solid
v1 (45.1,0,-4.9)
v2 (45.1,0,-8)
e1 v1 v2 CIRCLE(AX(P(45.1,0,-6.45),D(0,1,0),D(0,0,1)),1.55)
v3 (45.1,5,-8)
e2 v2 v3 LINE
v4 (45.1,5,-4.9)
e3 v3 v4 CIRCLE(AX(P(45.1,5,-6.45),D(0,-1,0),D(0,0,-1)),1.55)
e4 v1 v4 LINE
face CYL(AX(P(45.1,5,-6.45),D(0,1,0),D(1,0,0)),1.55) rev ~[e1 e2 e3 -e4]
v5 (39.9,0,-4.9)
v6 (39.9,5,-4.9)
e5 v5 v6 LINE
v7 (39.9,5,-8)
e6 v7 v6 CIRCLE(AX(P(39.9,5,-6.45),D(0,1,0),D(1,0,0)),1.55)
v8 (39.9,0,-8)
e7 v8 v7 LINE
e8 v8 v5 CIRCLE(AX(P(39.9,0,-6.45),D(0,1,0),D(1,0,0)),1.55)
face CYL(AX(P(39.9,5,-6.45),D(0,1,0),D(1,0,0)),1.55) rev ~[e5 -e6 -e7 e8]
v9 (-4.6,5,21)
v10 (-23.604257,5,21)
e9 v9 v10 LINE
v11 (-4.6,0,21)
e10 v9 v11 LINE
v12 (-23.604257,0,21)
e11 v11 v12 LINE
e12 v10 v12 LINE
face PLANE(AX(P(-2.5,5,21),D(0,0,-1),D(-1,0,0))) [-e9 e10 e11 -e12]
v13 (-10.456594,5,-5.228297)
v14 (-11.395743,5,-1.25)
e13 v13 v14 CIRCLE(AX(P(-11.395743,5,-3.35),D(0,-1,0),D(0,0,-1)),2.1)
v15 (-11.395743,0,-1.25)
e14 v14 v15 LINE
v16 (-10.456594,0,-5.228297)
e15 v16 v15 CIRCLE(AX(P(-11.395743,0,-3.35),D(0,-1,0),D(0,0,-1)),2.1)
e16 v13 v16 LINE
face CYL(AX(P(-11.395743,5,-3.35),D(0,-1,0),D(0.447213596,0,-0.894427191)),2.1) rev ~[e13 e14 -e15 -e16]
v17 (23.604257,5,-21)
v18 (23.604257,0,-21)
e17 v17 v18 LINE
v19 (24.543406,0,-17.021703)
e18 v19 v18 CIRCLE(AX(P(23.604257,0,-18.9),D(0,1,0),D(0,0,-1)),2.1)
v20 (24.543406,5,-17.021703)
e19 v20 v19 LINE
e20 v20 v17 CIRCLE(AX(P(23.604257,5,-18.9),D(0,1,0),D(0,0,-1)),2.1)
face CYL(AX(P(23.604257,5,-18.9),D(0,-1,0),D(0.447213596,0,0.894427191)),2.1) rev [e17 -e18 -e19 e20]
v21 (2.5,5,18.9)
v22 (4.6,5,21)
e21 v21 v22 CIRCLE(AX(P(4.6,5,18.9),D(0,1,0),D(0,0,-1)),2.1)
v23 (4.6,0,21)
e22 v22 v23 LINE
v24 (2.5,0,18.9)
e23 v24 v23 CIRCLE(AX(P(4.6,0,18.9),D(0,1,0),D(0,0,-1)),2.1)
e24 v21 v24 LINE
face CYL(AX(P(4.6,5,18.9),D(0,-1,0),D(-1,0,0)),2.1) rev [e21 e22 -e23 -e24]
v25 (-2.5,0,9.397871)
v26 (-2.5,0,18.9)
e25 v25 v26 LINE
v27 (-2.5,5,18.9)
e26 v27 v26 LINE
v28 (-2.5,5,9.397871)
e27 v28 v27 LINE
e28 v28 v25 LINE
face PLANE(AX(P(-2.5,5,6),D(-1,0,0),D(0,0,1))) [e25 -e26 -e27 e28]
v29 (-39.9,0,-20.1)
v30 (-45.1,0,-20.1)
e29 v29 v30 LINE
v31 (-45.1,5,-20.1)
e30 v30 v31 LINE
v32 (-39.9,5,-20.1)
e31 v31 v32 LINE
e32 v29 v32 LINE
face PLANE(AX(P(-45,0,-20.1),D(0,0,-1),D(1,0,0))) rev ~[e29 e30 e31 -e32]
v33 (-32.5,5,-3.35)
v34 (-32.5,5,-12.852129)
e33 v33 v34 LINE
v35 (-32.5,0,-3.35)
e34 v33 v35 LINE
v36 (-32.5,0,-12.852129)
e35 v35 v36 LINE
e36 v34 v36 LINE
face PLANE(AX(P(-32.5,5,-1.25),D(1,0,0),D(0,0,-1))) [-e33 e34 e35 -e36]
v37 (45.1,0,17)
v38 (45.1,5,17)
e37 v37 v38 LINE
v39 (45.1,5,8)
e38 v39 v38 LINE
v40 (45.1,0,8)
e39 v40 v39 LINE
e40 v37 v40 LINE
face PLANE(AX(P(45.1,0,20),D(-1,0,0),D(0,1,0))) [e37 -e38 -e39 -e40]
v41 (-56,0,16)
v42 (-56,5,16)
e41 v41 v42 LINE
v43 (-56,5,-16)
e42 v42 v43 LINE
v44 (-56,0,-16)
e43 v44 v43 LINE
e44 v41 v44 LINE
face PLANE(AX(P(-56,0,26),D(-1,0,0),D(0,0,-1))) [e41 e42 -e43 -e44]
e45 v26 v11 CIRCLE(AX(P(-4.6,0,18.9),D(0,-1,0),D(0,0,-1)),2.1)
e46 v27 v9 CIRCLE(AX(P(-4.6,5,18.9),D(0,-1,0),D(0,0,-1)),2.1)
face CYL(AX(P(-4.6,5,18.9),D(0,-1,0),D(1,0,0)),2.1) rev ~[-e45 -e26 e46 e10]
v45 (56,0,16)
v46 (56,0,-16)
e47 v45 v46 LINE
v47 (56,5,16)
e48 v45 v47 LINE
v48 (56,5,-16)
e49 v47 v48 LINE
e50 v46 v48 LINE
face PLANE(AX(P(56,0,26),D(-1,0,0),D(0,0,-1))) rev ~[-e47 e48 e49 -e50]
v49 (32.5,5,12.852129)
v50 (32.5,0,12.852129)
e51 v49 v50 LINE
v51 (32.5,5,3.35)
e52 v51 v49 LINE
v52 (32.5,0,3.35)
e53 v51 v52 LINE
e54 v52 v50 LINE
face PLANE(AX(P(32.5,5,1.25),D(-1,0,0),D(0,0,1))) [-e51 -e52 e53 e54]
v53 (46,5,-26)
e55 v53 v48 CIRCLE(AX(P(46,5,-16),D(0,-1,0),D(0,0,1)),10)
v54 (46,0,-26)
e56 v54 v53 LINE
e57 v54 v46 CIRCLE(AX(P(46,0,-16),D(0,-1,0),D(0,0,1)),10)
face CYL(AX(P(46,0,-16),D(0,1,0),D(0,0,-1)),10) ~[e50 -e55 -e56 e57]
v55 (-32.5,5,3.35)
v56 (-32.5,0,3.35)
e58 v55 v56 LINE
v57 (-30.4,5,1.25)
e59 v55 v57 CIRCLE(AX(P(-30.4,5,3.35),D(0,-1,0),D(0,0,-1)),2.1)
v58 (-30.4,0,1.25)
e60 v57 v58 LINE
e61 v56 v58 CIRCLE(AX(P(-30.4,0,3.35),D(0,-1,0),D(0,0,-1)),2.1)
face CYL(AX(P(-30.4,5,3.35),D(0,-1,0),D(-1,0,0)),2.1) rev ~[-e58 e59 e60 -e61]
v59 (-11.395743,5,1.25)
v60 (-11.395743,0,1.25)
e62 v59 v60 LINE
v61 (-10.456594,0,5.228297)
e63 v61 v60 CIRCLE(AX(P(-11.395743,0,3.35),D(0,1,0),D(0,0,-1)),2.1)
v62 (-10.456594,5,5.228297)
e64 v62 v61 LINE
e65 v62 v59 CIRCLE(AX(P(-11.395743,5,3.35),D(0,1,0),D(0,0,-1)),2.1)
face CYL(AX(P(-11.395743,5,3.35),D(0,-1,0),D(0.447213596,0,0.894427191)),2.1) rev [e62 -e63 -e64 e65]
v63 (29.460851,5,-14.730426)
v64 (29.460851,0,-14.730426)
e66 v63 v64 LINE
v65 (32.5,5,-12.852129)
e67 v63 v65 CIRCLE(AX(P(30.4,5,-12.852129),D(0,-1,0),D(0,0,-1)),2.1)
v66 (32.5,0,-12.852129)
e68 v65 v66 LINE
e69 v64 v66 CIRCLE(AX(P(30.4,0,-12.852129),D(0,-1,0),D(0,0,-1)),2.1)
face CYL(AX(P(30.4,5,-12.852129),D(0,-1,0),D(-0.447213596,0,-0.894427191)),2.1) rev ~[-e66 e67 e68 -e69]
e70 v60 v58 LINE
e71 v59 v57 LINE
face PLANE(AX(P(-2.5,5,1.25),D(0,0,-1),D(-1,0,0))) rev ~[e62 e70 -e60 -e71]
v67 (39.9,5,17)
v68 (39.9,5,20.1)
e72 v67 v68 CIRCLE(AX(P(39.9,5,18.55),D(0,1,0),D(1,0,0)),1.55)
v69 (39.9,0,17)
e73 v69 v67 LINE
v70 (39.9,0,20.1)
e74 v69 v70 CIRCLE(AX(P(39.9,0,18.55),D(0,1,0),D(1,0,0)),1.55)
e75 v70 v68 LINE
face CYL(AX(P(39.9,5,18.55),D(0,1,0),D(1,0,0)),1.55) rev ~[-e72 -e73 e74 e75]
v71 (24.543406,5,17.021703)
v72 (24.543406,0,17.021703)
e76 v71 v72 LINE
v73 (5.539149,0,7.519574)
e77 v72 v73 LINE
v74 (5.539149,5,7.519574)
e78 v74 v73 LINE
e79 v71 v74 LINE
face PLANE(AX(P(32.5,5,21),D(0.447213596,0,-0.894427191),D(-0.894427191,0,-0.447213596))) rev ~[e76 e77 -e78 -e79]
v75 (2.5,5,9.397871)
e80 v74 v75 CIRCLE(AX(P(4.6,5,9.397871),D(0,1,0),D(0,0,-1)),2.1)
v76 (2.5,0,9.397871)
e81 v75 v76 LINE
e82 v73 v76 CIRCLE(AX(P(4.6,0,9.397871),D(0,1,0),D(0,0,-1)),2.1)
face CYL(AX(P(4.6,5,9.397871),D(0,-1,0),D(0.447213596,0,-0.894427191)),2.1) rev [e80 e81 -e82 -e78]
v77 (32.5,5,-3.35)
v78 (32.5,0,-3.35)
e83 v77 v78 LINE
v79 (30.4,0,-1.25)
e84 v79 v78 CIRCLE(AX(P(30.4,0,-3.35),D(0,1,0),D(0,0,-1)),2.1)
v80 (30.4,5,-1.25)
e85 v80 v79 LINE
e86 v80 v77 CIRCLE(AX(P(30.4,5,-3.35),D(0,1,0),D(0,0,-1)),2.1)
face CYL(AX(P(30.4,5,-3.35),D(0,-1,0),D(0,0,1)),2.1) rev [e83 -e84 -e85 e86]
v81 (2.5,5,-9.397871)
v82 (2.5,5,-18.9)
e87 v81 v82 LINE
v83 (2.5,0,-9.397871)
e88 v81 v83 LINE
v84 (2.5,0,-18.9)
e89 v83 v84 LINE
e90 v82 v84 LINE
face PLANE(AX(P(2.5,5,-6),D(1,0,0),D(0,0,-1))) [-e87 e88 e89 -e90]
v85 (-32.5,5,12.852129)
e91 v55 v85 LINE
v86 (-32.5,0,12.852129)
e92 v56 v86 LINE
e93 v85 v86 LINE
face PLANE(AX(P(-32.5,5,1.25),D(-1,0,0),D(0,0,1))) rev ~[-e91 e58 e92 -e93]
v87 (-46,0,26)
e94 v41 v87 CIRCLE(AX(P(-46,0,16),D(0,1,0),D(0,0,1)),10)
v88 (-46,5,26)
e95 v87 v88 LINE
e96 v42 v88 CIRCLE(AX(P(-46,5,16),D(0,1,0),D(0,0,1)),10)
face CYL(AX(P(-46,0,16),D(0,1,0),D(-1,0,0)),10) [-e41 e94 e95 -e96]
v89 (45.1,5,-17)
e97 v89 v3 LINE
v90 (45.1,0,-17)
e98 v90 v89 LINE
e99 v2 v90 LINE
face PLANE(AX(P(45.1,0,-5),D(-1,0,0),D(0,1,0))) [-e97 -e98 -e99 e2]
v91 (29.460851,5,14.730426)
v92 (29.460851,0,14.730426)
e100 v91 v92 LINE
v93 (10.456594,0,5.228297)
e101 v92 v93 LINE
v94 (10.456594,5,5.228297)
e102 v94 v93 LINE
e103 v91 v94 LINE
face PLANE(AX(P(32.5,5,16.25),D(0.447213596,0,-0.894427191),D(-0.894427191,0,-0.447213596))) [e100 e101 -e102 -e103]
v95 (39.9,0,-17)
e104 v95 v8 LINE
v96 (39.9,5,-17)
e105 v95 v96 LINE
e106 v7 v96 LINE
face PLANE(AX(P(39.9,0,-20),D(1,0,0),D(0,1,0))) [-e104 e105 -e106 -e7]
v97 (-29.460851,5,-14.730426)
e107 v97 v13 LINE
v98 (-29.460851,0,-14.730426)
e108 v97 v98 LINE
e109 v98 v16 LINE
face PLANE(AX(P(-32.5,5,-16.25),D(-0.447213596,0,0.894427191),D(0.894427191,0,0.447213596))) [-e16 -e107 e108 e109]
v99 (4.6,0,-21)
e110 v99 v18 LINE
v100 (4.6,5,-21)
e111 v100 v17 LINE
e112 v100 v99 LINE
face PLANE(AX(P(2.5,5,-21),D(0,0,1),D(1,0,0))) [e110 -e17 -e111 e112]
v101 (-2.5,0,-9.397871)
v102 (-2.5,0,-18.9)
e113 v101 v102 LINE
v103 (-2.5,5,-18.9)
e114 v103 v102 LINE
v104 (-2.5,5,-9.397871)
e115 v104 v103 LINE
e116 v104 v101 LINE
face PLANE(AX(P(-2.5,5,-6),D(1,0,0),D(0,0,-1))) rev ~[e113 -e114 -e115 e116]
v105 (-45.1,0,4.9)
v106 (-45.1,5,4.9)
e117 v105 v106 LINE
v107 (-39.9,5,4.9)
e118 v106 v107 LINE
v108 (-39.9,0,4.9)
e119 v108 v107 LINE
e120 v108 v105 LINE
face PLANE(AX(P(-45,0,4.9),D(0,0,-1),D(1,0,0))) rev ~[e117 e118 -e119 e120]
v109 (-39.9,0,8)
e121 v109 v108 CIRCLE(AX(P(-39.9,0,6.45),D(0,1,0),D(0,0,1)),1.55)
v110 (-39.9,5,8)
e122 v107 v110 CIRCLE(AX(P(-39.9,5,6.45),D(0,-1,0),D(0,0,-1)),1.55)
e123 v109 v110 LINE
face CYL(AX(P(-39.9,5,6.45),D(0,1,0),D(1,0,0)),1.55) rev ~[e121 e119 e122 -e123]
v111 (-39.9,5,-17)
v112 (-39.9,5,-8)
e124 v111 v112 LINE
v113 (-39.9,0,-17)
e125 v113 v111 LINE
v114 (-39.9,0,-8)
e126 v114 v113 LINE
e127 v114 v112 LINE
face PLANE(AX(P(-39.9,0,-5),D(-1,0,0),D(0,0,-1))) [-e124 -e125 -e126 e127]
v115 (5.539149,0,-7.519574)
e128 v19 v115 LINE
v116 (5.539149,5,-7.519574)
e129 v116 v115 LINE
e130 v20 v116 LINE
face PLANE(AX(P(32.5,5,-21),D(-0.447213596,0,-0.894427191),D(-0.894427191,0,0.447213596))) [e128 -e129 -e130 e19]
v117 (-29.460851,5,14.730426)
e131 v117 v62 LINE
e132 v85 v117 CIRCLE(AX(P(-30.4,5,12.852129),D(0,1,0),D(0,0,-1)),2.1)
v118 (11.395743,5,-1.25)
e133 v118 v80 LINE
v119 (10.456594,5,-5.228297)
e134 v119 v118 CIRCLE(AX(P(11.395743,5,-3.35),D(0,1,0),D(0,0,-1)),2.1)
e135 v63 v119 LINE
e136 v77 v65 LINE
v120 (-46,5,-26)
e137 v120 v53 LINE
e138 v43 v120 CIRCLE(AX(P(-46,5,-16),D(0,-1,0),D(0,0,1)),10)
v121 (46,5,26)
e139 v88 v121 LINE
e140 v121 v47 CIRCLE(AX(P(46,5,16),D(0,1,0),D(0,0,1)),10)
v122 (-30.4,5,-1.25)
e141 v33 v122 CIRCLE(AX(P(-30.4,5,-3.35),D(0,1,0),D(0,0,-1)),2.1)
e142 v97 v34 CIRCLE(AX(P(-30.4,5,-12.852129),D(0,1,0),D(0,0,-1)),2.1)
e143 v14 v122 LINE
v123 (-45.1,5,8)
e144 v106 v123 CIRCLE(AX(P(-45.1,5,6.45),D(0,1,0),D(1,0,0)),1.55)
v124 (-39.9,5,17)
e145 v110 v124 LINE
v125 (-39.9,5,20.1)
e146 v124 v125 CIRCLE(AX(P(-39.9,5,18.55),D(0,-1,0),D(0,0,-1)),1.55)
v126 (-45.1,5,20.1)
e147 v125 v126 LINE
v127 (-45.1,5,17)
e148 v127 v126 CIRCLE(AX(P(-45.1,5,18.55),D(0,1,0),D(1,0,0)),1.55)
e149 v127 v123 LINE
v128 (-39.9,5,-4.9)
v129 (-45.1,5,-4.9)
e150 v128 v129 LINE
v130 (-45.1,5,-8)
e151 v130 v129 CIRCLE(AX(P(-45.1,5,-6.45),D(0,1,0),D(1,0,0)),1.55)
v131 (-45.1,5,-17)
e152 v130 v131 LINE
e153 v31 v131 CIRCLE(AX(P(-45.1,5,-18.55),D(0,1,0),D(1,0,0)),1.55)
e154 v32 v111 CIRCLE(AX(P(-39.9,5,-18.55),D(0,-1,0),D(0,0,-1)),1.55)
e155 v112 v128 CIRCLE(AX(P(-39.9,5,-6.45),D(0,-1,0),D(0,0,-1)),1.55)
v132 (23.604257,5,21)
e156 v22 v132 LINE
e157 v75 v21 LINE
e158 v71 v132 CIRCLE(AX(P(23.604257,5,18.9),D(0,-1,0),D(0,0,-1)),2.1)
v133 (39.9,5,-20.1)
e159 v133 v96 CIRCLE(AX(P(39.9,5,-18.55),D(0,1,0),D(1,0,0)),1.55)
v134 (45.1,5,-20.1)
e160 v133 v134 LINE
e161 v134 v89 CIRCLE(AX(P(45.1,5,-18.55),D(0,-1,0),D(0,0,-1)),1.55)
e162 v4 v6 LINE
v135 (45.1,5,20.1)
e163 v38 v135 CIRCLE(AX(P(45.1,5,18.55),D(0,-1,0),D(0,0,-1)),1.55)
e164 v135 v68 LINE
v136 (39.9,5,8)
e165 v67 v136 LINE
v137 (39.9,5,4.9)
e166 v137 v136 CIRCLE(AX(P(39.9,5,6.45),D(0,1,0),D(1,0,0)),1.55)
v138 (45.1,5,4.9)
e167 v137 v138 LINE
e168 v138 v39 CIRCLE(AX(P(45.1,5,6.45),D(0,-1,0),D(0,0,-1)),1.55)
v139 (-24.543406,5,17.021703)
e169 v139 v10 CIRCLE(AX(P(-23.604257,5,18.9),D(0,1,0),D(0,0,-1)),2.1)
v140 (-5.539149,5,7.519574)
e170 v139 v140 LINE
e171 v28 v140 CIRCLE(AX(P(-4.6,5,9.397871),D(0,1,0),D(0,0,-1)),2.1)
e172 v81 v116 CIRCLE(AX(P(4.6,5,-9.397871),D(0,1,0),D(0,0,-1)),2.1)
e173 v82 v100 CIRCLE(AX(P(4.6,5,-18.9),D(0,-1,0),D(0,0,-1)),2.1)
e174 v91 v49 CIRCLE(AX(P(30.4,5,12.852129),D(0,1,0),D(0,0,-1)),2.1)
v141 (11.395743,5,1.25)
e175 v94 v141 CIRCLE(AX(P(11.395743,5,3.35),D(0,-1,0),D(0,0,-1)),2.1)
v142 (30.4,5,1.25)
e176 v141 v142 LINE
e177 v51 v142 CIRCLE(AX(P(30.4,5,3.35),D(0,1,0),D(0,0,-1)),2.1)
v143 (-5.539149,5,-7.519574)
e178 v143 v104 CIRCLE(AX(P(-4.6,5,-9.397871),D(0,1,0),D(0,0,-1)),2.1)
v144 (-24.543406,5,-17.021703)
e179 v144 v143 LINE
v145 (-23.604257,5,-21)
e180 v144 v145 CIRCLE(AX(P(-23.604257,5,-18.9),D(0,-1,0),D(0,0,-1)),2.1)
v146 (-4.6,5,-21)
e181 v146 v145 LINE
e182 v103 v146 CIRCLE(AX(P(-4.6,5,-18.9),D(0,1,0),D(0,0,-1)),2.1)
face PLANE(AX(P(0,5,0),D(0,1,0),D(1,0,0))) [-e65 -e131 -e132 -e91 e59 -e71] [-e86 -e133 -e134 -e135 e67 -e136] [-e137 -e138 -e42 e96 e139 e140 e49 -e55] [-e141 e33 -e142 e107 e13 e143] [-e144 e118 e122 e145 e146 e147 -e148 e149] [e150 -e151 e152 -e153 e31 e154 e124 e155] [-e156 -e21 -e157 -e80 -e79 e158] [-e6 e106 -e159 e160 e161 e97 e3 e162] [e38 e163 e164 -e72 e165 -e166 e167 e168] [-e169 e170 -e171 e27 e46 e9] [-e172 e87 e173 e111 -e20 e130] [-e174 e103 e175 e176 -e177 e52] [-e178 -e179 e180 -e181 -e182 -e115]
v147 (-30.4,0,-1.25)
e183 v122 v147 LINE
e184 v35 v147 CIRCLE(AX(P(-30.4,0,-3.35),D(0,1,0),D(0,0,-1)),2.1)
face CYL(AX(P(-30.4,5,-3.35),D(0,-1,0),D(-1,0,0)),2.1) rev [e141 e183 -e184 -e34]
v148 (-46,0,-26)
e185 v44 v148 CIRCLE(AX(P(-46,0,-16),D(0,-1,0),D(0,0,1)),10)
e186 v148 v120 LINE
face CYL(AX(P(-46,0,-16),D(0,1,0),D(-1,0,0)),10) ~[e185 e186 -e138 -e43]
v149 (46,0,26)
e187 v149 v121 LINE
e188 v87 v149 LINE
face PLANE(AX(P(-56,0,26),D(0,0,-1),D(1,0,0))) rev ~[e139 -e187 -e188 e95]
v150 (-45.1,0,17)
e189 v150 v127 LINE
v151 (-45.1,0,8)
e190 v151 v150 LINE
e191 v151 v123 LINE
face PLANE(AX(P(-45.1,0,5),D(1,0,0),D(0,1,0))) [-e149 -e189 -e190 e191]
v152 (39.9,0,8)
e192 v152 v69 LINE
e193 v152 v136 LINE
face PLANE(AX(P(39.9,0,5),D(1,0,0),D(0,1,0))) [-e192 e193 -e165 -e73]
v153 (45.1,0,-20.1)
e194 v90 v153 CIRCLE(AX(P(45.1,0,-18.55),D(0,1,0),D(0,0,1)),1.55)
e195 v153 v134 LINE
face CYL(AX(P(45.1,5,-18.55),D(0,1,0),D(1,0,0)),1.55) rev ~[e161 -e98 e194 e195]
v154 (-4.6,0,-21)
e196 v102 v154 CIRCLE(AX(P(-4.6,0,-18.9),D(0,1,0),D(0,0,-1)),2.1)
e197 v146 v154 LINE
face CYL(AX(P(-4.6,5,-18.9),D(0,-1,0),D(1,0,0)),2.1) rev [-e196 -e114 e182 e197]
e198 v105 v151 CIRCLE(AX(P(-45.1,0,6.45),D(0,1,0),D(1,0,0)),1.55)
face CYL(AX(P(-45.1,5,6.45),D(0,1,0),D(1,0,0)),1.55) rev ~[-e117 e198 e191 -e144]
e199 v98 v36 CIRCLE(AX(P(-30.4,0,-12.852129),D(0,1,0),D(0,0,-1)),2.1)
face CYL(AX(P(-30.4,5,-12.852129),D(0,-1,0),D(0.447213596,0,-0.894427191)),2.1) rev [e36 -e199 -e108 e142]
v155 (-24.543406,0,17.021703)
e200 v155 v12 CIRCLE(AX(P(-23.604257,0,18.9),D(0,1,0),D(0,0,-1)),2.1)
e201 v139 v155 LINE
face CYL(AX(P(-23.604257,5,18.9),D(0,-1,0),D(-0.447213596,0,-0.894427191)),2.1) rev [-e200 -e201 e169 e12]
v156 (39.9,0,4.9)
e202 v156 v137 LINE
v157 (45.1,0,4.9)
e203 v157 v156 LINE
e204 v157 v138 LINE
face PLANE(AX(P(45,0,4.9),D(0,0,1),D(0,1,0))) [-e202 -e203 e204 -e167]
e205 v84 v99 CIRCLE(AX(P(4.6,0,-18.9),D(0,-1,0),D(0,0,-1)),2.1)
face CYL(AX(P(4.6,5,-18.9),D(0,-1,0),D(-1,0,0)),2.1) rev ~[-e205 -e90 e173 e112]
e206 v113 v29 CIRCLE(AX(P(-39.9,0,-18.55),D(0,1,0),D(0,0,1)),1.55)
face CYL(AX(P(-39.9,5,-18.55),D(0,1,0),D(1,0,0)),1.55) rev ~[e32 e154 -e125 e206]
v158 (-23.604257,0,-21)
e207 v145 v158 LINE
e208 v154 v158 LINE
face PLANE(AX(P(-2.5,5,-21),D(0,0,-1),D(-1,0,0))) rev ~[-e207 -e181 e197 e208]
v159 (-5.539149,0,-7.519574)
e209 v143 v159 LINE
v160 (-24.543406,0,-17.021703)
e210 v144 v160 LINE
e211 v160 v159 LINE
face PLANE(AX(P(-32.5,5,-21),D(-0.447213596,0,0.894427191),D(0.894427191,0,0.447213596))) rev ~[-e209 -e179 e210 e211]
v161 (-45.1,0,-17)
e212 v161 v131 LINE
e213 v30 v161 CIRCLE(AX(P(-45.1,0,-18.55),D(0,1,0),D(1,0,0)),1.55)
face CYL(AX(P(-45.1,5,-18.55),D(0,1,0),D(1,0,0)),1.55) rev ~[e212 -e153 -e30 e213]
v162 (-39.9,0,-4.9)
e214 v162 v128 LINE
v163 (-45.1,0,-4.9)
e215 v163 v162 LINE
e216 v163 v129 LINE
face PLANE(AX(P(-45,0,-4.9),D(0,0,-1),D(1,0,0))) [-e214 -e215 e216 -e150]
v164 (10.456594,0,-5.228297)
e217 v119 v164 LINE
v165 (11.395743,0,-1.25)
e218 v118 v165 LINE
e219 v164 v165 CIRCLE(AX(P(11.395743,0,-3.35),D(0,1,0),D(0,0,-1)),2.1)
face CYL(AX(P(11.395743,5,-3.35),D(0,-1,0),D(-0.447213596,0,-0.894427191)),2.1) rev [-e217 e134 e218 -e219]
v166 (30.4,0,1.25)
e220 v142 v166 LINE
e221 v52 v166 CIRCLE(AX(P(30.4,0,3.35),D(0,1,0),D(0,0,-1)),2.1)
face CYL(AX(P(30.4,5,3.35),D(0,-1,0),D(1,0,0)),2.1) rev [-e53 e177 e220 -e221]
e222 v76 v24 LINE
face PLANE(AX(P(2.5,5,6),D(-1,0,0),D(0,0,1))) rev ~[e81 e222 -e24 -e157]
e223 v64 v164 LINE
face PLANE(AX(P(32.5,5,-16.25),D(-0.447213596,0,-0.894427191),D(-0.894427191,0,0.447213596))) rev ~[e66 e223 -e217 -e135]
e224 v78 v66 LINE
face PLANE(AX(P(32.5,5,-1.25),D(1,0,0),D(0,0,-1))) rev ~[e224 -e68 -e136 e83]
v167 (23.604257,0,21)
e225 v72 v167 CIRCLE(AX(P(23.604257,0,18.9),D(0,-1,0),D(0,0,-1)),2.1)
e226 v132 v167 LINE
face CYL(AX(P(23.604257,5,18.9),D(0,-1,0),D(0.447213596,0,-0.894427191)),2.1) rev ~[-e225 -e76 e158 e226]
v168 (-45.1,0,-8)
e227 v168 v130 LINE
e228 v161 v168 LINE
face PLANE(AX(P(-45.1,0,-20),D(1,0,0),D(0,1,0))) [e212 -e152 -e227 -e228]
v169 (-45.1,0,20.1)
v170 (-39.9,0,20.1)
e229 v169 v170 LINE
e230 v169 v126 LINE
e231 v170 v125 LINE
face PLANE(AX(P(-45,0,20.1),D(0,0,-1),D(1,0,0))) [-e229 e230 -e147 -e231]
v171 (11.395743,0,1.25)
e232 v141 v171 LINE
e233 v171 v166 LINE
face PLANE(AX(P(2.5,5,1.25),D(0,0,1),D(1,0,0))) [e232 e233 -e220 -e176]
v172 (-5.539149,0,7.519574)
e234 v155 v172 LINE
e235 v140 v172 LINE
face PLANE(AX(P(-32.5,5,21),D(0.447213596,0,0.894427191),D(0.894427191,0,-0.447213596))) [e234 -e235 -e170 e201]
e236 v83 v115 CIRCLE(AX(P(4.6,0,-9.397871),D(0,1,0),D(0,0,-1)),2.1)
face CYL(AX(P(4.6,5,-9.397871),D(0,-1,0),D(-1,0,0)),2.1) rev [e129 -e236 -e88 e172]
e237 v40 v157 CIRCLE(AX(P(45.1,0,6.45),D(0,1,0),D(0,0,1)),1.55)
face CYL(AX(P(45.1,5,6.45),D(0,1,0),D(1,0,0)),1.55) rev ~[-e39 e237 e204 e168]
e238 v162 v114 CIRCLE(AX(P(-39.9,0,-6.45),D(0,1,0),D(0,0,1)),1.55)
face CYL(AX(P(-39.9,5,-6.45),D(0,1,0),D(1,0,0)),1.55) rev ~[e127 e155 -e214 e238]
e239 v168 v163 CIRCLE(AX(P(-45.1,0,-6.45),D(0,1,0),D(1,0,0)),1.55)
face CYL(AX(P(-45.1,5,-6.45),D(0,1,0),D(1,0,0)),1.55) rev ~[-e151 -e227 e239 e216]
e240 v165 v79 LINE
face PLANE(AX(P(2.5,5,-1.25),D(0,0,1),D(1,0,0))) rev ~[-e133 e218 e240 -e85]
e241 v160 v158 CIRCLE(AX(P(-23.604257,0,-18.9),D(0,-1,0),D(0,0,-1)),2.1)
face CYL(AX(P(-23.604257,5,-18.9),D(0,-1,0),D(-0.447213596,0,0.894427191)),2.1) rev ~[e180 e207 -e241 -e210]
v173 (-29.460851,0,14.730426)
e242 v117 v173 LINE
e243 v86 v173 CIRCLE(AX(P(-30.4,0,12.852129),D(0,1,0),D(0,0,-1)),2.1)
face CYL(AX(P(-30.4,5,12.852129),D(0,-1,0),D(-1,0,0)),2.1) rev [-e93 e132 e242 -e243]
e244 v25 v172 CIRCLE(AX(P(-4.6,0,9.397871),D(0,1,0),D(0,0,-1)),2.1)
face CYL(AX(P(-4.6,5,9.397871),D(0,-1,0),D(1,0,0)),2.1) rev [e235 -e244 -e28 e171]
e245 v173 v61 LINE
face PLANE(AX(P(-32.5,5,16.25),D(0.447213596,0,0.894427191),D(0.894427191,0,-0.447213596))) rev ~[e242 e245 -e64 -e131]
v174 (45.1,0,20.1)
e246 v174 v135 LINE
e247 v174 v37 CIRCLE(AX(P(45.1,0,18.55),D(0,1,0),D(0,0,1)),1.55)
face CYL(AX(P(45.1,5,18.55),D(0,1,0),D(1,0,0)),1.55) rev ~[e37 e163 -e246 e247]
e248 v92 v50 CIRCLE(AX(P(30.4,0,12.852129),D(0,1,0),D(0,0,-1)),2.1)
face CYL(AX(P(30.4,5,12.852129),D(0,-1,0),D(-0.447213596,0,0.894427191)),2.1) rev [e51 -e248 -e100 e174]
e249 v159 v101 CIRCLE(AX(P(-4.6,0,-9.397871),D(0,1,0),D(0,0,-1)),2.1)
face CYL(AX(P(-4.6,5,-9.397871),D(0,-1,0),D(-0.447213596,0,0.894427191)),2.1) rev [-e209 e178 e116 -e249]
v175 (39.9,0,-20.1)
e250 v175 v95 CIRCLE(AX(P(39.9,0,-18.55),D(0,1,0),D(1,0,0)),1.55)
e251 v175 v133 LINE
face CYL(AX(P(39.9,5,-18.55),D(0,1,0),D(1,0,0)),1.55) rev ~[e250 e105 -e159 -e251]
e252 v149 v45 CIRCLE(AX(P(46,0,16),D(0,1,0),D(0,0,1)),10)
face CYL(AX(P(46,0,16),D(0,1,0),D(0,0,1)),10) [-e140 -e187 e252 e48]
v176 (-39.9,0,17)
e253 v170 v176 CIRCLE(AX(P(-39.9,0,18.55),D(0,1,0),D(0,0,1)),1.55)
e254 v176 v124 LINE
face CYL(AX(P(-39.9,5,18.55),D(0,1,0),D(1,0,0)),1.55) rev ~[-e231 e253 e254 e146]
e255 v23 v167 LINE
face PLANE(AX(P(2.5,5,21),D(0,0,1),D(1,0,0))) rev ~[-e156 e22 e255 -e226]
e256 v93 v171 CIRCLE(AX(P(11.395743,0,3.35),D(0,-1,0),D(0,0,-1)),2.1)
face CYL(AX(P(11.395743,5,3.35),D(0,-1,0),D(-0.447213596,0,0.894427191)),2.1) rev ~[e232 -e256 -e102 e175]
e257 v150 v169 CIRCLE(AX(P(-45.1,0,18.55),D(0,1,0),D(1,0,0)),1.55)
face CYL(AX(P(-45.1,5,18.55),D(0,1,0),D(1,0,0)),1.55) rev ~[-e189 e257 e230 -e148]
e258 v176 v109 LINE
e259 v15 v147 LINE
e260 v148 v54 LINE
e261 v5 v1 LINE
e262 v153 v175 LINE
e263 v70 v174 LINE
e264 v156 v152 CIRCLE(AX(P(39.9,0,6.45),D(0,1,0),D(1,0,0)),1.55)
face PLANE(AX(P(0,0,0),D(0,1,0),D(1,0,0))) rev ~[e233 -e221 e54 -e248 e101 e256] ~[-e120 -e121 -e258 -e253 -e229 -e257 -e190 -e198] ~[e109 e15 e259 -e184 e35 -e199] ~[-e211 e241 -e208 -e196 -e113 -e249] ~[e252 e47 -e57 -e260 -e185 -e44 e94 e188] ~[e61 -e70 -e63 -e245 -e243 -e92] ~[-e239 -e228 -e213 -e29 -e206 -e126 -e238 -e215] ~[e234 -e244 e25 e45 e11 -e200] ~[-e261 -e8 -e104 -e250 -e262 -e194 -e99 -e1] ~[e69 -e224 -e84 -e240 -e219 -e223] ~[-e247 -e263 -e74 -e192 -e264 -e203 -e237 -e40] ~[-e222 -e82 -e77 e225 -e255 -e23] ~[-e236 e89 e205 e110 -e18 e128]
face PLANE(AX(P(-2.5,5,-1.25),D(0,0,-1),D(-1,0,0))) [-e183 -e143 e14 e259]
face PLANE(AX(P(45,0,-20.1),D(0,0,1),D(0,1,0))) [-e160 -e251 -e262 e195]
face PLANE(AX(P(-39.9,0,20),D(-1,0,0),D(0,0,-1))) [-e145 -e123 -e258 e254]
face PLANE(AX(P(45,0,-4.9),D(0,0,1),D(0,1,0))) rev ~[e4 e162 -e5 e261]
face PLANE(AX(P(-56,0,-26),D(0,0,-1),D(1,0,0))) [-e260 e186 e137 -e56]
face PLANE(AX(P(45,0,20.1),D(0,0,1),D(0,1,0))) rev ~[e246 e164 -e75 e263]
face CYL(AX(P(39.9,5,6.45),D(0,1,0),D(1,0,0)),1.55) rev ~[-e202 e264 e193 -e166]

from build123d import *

# Parameters (mm, degrees)
SKETCH_1_W          = 112
SKETCH_1_H          = 52
SKETCH_1_W_2        = 5
SKETCH_1_H_2        = 15
EXTRUDE_1_DEPTH     = 5
MOVE_FACE_1_BY      = 0.1
MOVE_FACE_1_2_BY    = 0.1
MOVE_FACE_1_3_BY    = 0.1
MOVE_FACE_1_4_BY    = 0.1
MOVE_FACE_1_5_BY    = 0.1
MOVE_FACE_1_6_BY    = 0.1
MOVE_FACE_1_7_BY    = 0.1
MOVE_FACE_1_8_BY    = 0.1
MOVE_FACE_1_9_BY    = 0.1
MOVE_FACE_1_10_BY   = 0.1
MOVE_FACE_1_11_BY   = 0.1
MOVE_FACE_1_12_BY   = 0.1
MOVE_FACE_1_13_BY   = 0.1
MOVE_FACE_1_14_BY   = 0.1
MOVE_FACE_1_15_BY   = 0.1
MOVE_FACE_1_16_BY   = 0.1
SKETCH_2_R          = 1.55
CUT_EXTRUDE_1_DEPTH = 5
CUT_EXTRUDE_2_DEPTH = 5
FILLET_1_R          = 2.1
FILLET_2_R          = 10


with BuildPart() as part:
    # 草图1 → 凸台-拉伸1 (new body)
    with BuildSketch(Plane(origin=(0, 0, 0), x_dir=(1, 0, 0), z_dir=(0, 1, 0))):
        Rectangle(SKETCH_1_W, SKETCH_1_H)
        with Locations((42.5, -12.5)):
            Rectangle(SKETCH_1_W_2, SKETCH_1_H_2, mode=Mode.SUBTRACT)
        with Locations((42.5, 12.5)):
            Rectangle(SKETCH_1_W_2, SKETCH_1_H_2, mode=Mode.SUBTRACT)
        with Locations((-42.5, -12.5)):
            Rectangle(SKETCH_1_W_2, SKETCH_1_H_2, mode=Mode.SUBTRACT)
        with Locations((-42.5, 12.5)):
            Rectangle(SKETCH_1_W_2, SKETCH_1_H_2, mode=Mode.SUBTRACT)
    extrude(amount=EXTRUDE_1_DEPTH)

    # Move Face 1: a face moved inward by 0.1
    extrude(part.faces().sort_by_distance((-45, 2.5, -12.5))[0], amount=MOVE_FACE_1_BY, dir=(-1, 0, 0), mode=Mode.SUBTRACT)

    # Move Face 1 2: a face moved inward by 0.1
    extrude(part.faces().sort_by_distance((-42.5, 2.5, -20))[0], amount=MOVE_FACE_1_2_BY, dir=(0, 0, -1), mode=Mode.SUBTRACT)

    # Move Face 1 3: a face moved inward by 0.1
    extrude(part.faces().sort_by_distance((-45, 2.5, 12.5))[0], amount=MOVE_FACE_1_3_BY, dir=(-1, 0, 0), mode=Mode.SUBTRACT)

    # Move Face 1 4: a face moved inward by 0.1
    extrude(part.faces().sort_by_distance((-42.5, 2.5, 5))[0], amount=MOVE_FACE_1_4_BY, dir=(0, 0, -1), mode=Mode.SUBTRACT)

    # Move Face 1 5: a face moved inward by 0.1
    extrude(part.faces().sort_by_distance((-42.5, 2.5, 20))[0], amount=MOVE_FACE_1_5_BY, dir=(0, 0, 1), mode=Mode.SUBTRACT)

    # Move Face 1 6: a face moved inward by 0.1
    extrude(part.faces().sort_by_distance((-40, 2.5, 12.5))[0], amount=MOVE_FACE_1_6_BY, dir=(1, 0, 0), mode=Mode.SUBTRACT)

    # Move Face 1 7: a face moved inward by 0.1
    extrude(part.faces().sort_by_distance((-42.5, 2.5, -5))[0], amount=MOVE_FACE_1_7_BY, dir=(0, 0, 1), mode=Mode.SUBTRACT)

    # Move Face 1 8: a face moved inward by 0.1
    extrude(part.faces().sort_by_distance((-40, 2.5, -12.5))[0], amount=MOVE_FACE_1_8_BY, dir=(1, 0, 0), mode=Mode.SUBTRACT)

    # Move Face 1 9: a face moved inward by 0.1
    extrude(part.faces().sort_by_distance((42.5, 2.5, 20))[0], amount=MOVE_FACE_1_9_BY, dir=(0, 0, 1), mode=Mode.SUBTRACT)

    # Move Face 1 10: a face moved inward by 0.1
    extrude(part.faces().sort_by_distance((40, 2.5, 12.5))[0], amount=MOVE_FACE_1_10_BY, dir=(-1, 0, 0), mode=Mode.SUBTRACT)

    # Move Face 1 11: a face moved inward by 0.1
    extrude(part.faces().sort_by_distance((45, 2.5, 12.5))[0], amount=MOVE_FACE_1_11_BY, dir=(1, 0, 0), mode=Mode.SUBTRACT)

    # Move Face 1 12: a face moved inward by 0.1
    extrude(part.faces().sort_by_distance((42.5, 2.5, 5))[0], amount=MOVE_FACE_1_12_BY, dir=(0, 0, -1), mode=Mode.SUBTRACT)

    # Move Face 1 13: a face moved inward by 0.1
    extrude(part.faces().sort_by_distance((42.5, 2.5, -5))[0], amount=MOVE_FACE_1_13_BY, dir=(0, 0, 1), mode=Mode.SUBTRACT)

    # Move Face 1 14: a face moved inward by 0.1
    extrude(part.faces().sort_by_distance((40, 2.5, -12.5))[0], amount=MOVE_FACE_1_14_BY, dir=(-1, 0, 0), mode=Mode.SUBTRACT)

    # Move Face 1 15: a face moved inward by 0.1
    extrude(part.faces().sort_by_distance((42.5, 2.5, -20))[0], amount=MOVE_FACE_1_15_BY, dir=(0, 0, -1), mode=Mode.SUBTRACT)

    # Move Face 1 16: a face moved inward by 0.1
    extrude(part.faces().sort_by_distance((45, 2.5, -12.5))[0], amount=MOVE_FACE_1_16_BY, dir=(1, 0, 0), mode=Mode.SUBTRACT)

    # 草图2 → 切除-拉伸1 (cut)
    with BuildSketch(Plane(origin=(0, 5, 0), x_dir=(1, 0, 0), z_dir=(0, 1, 0))):
        with Locations((45.1, 18.55)):
            Circle(SKETCH_2_R)
        with Locations((45.1, 6.45)):
            Circle(SKETCH_2_R)
        with Locations((45.1, -6.45)):
            Circle(SKETCH_2_R)
        with Locations((45.1, -18.55)):
            Circle(SKETCH_2_R)
        with Locations((39.9, -18.55)):
            Circle(SKETCH_2_R)
        with Locations((39.9, -6.45)):
            Circle(SKETCH_2_R)
        with Locations((39.9, 6.45)):
            Circle(SKETCH_2_R)
        with Locations((39.9, 18.55)):
            Circle(SKETCH_2_R)
        with Locations((-39.9, 18.55)):
            Circle(SKETCH_2_R)
        with Locations((-39.9, 6.45)):
            Circle(SKETCH_2_R)
        with Locations((-39.9, -6.45)):
            Circle(SKETCH_2_R)
        with Locations((-39.9, -18.55)):
            Circle(SKETCH_2_R)
        with Locations((-45.1, -18.55)):
            Circle(SKETCH_2_R)
        with Locations((-45.1, -6.45)):
            Circle(SKETCH_2_R)
        with Locations((-45.1, 6.45)):
            Circle(SKETCH_2_R)
        with Locations((-45.1, 18.55)):
            Circle(SKETCH_2_R)
    extrude(amount=-CUT_EXTRUDE_1_DEPTH, mode=Mode.SUBTRACT)

    # 草图3 → 切除-拉伸2 (cut)
    with BuildSketch(Plane(origin=(0, 5, 0), x_dir=(1, 0, 0), z_dir=(0, 1, 0))):
        Polygon((2.5, 21), (32.5, 21), (2.5, 6), align=None)
        Polygon((32.5, 16.25), (2.5, 1.25), (32.5, 1.25), align=None)
        Polygon((-2.5, 1.25), (-32.5, 1.25), (-32.5, 16.25), align=None)
        Polygon((-32.5, 21), (-2.5, 6), (-2.5, 21), align=None)
        Polygon((2.5, -1.25), (32.5, -1.25), (32.5, -16.25), align=None)
        Polygon((32.5, -21), (2.5, -6), (2.5, -21), align=None)
        Polygon((-32.5, -1.25), (-32.5, -16.25), (-2.5, -1.25), align=None)
        Polygon((-2.5, -21), (-32.5, -21), (-2.5, -6), align=None)
    extrude(amount=-CUT_EXTRUDE_2_DEPTH, mode=Mode.SUBTRACT)

    # 圆角1
    fillet_1_edges = [part.edges().sort_by_distance(p)[0] for p in [
        (32.5, 2.5, 16.25),
        (2.5, 2.5, 1.25),
        (32.5, 2.5, 1.25),
        (-32.5, 2.5, -21),
        (-2.5, 2.5, -21),
        (-2.5, 2.5, -6),
        (-32.5, 2.5, -16.25),
        (-2.5, 2.5, -1.25),
        (-32.5, 2.5, -1.25),
        (32.5, 2.5, -16.25),
        (32.5, 2.5, -1.25),
        (2.5, 2.5, -1.25),
        (-2.5, 2.5, 6),
        (-2.5, 2.5, 21),
        (-32.5, 2.5, 21),
        (-32.5, 2.5, 1.25),
        (-2.5, 2.5, 1.25),
        (-32.5, 2.5, 16.25),
        (32.5, 2.5, 21),
        (2.5, 2.5, 21),
        (2.5, 2.5, 6),
        (2.5, 2.5, -6),
        (2.5, 2.5, -21),
        (32.5, 2.5, -21),
    ]]
    fillet(fillet_1_edges, radius=FILLET_1_R)

    # 圆角2
    fillet_2_edges = [part.edges().sort_by_distance(p)[0] for p in [
        (-56, 2.5, -26),
        (56, 2.5, -26),
        (56, 2.5, 26),
        (-56, 2.5, 26),
    ]]
    fillet(fillet_2_edges, radius=FILLET_2_R)


solid = part.part
